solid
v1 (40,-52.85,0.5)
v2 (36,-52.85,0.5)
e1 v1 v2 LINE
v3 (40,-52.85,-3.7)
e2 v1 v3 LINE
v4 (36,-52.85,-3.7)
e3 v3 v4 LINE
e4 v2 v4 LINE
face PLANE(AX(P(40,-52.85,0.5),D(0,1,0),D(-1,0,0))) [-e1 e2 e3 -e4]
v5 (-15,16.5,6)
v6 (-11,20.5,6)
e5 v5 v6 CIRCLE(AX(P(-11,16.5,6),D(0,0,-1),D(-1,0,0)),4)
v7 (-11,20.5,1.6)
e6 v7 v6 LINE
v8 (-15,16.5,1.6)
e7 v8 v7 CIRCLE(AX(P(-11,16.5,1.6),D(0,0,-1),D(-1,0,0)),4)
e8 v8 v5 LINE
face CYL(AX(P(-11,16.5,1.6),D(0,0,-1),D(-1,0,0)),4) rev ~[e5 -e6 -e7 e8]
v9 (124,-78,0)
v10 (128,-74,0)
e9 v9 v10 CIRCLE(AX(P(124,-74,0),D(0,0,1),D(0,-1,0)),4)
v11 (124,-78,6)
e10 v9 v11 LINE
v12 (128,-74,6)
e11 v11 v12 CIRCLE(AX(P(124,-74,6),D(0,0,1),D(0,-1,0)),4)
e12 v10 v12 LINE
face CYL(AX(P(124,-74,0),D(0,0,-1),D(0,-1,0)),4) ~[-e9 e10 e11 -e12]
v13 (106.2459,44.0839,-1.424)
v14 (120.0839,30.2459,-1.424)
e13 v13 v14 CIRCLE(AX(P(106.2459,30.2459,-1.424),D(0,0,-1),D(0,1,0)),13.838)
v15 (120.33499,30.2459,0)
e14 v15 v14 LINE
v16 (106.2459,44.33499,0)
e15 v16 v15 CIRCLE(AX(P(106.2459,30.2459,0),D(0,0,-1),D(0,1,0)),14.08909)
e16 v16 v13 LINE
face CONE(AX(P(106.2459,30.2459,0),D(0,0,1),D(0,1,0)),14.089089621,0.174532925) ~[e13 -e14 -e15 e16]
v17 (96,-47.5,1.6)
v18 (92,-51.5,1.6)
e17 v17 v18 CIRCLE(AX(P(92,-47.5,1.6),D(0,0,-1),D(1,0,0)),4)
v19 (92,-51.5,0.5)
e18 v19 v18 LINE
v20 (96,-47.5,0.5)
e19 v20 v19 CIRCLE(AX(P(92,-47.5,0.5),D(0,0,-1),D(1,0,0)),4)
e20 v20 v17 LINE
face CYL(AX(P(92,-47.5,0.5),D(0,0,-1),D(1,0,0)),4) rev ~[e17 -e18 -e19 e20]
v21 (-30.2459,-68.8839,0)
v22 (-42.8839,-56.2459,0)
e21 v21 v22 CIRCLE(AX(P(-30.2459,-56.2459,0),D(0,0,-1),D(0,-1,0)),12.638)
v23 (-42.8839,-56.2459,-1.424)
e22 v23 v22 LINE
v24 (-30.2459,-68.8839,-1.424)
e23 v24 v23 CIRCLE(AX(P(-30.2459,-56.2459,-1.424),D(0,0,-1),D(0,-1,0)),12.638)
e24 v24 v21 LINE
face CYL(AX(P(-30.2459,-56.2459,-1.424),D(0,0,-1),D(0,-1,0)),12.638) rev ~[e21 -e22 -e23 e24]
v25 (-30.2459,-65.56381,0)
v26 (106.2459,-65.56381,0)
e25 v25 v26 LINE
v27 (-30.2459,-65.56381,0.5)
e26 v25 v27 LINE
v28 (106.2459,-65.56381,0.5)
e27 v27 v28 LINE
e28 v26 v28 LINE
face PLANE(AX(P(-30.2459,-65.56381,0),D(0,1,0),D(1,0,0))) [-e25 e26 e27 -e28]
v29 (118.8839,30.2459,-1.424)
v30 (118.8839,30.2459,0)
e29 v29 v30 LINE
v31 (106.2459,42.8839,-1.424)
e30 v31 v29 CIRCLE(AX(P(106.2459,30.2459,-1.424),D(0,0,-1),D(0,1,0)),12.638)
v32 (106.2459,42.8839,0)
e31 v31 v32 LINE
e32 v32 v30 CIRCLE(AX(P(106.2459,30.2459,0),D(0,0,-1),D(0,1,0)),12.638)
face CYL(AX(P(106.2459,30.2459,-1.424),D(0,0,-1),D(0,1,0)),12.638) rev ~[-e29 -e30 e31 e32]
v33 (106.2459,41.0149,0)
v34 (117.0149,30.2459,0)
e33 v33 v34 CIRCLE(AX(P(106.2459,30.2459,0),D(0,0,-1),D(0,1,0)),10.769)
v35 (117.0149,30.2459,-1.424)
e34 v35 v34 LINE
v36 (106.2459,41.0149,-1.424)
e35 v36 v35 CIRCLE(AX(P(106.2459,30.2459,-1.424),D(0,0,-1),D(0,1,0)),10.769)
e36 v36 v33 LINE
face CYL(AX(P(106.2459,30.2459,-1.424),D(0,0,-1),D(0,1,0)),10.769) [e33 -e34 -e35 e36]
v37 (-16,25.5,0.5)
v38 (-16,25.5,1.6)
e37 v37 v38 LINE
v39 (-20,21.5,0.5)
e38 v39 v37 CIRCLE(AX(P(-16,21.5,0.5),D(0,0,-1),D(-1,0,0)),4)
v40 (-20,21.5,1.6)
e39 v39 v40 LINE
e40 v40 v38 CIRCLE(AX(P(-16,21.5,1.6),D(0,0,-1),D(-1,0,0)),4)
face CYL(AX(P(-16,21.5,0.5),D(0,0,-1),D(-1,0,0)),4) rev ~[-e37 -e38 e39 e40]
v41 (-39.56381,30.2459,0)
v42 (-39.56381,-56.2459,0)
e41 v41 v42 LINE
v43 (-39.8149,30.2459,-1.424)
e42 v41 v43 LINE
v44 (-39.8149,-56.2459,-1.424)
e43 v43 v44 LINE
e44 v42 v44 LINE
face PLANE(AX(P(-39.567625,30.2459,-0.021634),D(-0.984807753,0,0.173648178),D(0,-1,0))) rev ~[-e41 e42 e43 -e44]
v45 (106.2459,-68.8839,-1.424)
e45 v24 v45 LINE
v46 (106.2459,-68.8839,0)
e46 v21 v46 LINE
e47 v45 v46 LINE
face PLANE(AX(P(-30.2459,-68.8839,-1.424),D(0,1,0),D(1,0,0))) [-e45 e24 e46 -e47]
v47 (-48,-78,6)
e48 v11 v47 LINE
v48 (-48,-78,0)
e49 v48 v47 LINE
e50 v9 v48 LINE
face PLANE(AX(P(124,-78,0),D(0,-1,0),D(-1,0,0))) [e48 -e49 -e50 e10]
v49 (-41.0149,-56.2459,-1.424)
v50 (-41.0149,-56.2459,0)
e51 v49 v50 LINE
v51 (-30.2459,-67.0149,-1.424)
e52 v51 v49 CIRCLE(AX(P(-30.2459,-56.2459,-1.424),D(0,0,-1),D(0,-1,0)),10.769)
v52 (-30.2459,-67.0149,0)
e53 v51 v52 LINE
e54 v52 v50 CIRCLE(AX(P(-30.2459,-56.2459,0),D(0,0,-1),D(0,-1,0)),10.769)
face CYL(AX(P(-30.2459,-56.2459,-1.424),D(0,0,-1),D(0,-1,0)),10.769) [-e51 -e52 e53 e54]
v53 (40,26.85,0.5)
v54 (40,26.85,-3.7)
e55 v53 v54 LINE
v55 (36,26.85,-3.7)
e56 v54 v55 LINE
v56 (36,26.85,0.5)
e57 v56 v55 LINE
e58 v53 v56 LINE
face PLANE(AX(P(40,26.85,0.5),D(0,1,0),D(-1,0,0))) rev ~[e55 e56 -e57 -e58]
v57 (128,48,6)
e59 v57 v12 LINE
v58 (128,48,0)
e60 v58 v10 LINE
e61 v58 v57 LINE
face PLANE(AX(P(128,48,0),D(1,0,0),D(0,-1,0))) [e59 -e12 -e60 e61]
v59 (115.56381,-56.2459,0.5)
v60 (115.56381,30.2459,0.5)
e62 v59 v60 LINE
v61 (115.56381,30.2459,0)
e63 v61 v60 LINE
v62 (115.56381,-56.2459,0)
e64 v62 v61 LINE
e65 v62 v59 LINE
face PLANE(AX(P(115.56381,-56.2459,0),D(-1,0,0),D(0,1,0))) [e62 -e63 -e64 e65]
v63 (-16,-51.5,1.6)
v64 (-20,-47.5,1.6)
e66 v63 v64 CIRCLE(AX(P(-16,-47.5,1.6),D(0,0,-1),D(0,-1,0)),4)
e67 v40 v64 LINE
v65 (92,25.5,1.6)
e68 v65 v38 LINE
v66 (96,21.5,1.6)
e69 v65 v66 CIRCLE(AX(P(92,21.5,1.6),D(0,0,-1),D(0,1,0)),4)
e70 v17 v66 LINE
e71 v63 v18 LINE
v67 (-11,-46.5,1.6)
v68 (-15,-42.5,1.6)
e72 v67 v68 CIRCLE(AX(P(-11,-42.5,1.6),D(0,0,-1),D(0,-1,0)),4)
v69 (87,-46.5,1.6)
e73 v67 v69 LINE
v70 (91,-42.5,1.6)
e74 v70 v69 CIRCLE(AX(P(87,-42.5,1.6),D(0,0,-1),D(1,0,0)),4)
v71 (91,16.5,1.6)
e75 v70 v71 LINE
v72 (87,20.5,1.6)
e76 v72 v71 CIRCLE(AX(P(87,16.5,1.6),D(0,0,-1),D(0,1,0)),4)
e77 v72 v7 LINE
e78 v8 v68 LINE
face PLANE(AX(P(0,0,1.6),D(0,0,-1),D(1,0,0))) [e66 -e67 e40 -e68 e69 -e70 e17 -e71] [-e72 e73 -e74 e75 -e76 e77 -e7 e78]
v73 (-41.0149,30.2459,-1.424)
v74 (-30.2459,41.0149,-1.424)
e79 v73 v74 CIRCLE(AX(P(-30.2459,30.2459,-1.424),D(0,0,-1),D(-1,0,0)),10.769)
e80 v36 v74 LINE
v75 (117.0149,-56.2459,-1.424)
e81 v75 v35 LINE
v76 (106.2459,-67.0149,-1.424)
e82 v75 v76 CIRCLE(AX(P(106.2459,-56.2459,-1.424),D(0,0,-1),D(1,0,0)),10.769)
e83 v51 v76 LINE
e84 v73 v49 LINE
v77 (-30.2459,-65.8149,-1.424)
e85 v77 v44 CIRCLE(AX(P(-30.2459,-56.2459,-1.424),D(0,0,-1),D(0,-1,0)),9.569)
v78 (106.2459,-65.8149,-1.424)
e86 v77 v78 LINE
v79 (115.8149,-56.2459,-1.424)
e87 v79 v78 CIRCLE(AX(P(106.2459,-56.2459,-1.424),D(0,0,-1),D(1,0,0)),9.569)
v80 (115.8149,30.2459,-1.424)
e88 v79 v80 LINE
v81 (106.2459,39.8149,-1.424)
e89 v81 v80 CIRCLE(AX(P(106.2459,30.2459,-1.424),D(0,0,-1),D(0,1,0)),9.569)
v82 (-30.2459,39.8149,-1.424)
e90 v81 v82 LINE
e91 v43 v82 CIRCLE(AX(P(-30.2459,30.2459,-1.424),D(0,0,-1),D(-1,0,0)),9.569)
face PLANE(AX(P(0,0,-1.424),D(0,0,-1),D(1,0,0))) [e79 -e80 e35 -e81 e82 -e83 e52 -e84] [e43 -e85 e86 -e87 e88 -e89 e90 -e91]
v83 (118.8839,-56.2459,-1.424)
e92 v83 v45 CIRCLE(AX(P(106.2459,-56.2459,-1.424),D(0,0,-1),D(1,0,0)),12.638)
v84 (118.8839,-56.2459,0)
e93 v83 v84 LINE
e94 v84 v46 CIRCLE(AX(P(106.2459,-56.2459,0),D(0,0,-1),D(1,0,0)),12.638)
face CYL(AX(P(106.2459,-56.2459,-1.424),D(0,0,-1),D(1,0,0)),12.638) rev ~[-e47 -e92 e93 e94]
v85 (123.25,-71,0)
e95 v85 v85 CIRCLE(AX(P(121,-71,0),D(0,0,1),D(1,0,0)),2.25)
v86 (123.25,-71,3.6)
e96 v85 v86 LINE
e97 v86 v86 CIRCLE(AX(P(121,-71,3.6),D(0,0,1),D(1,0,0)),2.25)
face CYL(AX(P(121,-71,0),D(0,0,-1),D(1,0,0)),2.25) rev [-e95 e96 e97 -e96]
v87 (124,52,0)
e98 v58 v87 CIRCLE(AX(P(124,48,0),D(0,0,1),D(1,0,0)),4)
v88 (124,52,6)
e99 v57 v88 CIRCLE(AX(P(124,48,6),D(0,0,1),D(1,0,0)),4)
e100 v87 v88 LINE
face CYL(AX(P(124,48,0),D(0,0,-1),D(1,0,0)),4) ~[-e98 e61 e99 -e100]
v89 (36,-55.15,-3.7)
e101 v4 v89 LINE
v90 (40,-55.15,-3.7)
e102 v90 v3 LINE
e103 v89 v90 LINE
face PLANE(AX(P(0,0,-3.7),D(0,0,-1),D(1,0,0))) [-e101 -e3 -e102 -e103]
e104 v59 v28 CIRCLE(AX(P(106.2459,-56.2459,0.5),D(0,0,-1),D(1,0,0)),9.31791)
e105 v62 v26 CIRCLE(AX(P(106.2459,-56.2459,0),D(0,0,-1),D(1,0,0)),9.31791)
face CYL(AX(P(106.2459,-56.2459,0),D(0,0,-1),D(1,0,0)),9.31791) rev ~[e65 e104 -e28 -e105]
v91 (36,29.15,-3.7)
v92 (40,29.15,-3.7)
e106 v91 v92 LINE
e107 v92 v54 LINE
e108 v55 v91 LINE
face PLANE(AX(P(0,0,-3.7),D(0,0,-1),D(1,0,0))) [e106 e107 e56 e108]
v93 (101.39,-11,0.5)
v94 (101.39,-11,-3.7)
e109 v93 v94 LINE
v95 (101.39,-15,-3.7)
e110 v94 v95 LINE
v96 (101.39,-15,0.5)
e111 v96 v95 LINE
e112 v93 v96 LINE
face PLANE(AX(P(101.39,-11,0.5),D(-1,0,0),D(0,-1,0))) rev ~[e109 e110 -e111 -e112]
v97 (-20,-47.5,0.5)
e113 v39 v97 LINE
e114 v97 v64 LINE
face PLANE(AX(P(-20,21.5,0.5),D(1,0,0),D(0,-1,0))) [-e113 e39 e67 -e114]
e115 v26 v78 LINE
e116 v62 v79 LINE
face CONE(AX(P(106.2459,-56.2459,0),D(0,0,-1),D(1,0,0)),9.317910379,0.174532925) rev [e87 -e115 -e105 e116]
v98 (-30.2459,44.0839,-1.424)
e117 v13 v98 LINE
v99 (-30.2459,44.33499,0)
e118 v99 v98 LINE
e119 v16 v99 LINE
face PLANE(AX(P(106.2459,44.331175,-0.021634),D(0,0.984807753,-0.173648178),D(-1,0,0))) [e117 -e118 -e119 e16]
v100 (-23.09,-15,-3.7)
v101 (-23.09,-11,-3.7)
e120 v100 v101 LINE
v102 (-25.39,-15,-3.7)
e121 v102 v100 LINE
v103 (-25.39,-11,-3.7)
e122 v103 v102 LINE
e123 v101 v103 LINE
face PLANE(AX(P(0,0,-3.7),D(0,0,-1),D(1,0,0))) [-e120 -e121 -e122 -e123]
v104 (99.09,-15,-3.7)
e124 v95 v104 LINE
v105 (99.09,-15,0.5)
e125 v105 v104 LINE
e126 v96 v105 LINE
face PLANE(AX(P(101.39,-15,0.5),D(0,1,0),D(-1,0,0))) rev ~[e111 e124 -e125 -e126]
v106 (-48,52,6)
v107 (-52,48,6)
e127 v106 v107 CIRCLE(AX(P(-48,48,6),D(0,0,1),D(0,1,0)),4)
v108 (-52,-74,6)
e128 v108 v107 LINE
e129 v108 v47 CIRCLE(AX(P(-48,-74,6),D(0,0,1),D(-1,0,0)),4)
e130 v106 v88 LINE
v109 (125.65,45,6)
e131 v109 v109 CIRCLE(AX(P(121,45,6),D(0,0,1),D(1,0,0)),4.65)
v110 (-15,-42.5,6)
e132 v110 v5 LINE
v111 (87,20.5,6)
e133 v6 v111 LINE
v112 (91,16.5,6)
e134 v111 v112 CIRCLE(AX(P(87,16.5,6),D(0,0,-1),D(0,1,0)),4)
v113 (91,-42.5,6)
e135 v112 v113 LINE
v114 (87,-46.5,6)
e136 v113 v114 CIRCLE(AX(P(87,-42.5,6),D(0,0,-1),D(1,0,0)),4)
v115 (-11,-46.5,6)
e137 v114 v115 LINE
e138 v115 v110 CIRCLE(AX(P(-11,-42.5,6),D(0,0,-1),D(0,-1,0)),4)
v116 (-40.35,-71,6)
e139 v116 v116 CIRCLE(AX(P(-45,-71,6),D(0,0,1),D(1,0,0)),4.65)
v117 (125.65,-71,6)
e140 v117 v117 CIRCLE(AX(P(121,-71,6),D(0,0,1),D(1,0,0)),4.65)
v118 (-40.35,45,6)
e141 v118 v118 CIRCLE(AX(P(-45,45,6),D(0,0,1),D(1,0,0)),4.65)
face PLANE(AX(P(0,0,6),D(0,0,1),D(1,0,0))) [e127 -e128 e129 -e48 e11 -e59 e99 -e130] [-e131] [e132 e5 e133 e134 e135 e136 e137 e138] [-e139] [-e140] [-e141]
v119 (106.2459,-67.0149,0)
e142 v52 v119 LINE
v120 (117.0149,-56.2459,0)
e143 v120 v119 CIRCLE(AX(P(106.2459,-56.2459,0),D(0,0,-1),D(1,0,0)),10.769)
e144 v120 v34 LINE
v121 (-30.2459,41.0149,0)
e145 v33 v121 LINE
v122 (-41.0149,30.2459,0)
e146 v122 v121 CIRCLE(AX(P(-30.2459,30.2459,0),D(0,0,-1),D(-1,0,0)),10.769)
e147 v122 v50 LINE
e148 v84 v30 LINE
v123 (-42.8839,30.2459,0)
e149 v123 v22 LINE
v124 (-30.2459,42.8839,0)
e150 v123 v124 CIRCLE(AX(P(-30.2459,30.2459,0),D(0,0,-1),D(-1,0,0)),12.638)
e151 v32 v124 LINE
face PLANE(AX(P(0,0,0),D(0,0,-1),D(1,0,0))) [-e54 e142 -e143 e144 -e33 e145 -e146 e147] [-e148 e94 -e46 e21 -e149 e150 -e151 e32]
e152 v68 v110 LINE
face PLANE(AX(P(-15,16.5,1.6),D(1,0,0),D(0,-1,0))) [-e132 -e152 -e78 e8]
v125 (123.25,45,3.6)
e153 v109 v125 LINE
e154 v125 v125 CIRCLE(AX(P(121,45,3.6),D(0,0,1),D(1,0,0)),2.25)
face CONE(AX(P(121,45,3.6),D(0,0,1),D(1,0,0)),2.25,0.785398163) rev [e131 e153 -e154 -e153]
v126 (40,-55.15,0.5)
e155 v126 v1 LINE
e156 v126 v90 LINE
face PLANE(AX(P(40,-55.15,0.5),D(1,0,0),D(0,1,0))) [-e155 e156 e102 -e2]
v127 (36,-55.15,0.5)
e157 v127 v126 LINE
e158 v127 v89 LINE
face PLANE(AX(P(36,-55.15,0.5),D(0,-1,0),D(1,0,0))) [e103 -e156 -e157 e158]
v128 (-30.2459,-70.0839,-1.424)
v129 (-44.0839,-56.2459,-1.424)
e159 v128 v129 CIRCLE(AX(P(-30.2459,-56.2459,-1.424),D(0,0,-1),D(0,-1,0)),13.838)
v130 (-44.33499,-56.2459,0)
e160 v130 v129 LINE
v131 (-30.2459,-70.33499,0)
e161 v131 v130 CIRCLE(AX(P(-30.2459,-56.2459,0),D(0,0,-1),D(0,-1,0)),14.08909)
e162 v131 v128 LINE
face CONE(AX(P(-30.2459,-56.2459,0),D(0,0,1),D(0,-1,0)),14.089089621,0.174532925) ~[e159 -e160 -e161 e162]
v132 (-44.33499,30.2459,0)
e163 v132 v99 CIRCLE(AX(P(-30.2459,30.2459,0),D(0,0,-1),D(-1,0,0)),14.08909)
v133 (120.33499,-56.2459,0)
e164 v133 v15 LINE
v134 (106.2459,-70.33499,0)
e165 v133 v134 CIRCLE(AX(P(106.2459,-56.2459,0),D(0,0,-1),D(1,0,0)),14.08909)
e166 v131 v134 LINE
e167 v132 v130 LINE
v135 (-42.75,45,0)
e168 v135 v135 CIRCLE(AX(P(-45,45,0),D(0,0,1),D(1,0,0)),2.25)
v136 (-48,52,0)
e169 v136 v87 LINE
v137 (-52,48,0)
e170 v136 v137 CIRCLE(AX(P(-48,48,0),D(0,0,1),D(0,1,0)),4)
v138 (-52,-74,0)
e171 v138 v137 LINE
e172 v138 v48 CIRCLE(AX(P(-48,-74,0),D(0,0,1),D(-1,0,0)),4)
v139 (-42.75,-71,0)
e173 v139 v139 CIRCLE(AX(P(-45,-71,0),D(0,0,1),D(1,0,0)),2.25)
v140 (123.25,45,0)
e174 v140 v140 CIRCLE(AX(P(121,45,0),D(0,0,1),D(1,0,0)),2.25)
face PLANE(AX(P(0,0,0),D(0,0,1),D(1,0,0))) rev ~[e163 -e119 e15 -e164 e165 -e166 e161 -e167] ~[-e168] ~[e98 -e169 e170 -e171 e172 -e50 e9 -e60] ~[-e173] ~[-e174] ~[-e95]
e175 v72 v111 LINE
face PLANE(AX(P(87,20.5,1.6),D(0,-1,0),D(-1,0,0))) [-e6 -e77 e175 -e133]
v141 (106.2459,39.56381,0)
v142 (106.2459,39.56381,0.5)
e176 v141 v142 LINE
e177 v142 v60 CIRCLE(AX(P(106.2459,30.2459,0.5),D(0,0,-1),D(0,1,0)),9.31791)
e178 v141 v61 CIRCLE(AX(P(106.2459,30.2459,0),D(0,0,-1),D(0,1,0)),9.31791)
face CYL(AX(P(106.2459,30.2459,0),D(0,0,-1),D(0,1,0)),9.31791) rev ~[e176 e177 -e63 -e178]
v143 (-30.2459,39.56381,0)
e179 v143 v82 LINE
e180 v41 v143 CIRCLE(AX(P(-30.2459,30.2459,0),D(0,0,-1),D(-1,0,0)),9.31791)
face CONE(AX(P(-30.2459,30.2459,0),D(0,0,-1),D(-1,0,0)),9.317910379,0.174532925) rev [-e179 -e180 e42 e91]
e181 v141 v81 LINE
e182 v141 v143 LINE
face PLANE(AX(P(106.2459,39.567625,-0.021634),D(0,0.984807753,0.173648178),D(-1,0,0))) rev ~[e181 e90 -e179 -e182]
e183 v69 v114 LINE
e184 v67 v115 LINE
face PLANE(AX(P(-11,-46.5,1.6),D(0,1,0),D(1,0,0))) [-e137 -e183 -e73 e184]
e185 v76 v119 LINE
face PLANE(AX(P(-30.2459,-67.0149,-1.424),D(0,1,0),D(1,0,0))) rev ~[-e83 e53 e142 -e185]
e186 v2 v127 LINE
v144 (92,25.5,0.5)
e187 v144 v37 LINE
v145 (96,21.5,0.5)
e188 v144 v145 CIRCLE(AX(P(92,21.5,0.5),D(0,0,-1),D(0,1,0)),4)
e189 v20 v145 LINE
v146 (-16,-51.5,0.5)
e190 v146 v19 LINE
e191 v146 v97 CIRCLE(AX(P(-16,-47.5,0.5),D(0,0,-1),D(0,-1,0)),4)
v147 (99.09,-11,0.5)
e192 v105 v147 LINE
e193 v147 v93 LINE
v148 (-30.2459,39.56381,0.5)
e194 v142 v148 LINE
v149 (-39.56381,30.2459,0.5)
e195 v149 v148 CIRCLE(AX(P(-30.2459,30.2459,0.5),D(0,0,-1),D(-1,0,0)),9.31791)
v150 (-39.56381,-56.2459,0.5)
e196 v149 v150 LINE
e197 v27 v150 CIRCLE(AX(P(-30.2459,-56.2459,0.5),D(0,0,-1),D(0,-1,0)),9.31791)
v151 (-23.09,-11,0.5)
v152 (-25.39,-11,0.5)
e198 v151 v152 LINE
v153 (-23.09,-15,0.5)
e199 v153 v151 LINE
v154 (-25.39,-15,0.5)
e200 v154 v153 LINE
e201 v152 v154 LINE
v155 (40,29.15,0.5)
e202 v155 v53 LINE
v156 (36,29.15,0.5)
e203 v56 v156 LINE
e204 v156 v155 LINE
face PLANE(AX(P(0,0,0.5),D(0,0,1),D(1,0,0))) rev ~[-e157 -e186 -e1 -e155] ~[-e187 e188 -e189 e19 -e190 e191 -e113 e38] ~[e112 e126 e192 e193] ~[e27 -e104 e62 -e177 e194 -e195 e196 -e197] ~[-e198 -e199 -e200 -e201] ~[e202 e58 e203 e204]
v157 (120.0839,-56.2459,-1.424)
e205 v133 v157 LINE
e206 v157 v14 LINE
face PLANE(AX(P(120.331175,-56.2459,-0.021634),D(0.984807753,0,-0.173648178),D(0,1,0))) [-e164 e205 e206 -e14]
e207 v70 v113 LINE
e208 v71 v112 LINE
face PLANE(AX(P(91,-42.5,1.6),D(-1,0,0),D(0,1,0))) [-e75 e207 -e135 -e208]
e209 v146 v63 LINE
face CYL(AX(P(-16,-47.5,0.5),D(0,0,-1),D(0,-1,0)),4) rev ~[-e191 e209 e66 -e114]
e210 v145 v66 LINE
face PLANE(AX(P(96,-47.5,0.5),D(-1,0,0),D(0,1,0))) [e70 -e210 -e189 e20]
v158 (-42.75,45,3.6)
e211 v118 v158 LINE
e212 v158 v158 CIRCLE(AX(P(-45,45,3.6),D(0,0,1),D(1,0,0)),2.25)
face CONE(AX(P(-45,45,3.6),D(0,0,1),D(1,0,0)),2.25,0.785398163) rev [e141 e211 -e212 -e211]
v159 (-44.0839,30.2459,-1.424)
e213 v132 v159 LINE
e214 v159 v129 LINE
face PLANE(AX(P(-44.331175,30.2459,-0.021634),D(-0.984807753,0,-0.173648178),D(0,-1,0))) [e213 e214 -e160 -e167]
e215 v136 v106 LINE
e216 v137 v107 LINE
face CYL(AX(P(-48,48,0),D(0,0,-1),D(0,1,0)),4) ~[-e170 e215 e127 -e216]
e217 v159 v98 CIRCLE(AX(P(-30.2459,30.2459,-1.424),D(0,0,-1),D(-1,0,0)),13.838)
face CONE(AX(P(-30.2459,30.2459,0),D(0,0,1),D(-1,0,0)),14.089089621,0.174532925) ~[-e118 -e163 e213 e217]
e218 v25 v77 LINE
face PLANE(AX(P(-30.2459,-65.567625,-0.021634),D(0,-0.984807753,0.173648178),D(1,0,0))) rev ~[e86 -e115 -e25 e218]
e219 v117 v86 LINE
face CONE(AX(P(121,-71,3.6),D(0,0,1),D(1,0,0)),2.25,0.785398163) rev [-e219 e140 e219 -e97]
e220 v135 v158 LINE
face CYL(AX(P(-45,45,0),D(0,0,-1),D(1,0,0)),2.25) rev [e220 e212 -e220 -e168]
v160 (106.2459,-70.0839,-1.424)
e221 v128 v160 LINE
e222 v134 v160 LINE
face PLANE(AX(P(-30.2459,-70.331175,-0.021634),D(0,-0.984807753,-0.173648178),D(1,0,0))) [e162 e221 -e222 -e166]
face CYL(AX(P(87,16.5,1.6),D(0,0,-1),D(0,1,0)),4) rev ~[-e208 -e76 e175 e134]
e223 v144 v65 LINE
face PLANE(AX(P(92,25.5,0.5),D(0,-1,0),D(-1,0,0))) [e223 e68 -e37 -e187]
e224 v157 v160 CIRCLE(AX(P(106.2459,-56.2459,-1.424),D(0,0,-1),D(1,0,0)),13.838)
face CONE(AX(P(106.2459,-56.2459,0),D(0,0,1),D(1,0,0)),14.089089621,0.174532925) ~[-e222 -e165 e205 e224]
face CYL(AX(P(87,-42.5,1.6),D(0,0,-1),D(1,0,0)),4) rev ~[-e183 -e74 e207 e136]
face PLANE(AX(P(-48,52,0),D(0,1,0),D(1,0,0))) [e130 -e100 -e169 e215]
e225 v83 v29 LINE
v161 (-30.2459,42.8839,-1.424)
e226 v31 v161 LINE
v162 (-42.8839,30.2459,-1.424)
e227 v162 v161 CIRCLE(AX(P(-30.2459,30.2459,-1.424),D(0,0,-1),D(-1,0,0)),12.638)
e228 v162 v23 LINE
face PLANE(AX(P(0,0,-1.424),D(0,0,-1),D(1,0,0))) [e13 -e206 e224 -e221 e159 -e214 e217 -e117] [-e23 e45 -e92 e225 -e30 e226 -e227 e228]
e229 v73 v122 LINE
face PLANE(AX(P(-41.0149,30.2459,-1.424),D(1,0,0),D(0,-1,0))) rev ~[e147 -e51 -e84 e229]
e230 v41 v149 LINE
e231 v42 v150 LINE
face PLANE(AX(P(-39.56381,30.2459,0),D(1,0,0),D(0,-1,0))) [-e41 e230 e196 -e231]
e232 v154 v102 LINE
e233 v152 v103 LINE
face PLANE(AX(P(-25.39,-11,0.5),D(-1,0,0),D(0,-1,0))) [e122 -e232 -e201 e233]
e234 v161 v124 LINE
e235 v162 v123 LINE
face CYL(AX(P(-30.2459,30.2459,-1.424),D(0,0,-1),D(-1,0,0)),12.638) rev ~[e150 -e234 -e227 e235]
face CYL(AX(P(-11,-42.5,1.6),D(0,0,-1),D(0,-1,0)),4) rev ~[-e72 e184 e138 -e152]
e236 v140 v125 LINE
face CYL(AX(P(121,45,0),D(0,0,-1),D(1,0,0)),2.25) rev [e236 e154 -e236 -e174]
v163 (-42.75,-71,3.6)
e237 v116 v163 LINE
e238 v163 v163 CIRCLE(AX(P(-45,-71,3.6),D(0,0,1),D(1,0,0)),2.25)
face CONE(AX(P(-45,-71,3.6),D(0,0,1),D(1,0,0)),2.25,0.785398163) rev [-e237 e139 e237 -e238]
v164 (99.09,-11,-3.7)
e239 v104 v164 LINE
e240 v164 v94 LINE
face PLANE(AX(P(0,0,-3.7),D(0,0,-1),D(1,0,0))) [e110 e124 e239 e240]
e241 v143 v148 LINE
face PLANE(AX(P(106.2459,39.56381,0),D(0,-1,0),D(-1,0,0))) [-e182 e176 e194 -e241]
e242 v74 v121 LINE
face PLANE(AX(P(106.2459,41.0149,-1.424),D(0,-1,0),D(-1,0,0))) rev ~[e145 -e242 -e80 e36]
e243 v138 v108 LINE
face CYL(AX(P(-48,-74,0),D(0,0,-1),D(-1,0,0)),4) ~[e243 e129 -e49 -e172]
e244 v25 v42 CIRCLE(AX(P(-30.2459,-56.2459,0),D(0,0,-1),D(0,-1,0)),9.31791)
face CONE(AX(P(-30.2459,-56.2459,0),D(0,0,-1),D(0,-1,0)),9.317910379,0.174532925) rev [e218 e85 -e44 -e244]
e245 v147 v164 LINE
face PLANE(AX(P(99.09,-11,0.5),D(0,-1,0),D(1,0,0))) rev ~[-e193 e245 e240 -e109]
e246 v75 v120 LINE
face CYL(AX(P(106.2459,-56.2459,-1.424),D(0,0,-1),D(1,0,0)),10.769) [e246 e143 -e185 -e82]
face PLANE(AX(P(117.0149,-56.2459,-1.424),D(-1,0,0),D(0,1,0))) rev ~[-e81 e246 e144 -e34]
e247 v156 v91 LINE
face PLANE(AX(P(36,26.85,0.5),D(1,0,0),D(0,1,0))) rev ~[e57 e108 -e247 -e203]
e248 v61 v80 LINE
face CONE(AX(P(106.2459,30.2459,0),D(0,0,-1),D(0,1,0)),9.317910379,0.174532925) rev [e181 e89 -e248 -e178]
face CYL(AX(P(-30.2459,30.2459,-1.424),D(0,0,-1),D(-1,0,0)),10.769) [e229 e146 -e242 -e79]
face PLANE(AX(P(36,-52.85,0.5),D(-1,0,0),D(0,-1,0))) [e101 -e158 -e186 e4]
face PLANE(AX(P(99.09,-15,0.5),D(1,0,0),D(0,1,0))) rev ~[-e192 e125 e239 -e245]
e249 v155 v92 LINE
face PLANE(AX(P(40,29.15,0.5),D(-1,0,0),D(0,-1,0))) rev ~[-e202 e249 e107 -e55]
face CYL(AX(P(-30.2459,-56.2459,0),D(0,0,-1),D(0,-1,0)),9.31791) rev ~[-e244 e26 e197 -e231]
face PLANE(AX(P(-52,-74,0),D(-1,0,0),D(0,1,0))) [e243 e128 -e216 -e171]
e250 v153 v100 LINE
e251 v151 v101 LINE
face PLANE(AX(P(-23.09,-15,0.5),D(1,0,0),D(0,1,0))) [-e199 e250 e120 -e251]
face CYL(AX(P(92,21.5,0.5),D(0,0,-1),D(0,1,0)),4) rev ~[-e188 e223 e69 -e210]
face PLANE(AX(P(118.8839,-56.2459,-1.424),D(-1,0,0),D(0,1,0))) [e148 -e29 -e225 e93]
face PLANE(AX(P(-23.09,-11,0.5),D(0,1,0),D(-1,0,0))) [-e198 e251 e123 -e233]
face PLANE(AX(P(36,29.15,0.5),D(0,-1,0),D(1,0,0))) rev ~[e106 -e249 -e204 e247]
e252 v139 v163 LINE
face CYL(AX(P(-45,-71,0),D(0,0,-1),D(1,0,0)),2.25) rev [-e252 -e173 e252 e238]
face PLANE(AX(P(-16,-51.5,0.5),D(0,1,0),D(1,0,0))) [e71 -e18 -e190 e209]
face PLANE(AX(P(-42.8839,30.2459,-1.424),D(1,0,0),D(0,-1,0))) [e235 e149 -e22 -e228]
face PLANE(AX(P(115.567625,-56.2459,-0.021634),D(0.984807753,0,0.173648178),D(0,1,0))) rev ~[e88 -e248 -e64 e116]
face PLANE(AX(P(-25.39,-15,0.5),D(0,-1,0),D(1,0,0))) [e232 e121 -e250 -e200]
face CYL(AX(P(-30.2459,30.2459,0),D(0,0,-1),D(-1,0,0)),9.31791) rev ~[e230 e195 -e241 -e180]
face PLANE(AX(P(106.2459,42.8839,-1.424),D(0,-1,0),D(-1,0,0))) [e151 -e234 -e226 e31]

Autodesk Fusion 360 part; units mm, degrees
sketch "Sketch2" plane through (0, 0, 0) normal (0, 0, 1) x (1, 0, 0)
  line L0 (-48, 52) -> (124, 52)
  line L1 (128, 48) -> (128, -74)
  line L2 (124, -78) -> (-48, -78)
  line L3 (-52, -74) -> (-52, 48)
  circle A0 centre (-45, 45) radius 2.25
  line L4 (38, -78) -> (38, 52) construction
  line L5 (-52, -13) -> (128, -13) construction
  arc A1 (-48, 52) -> (-52, 48) centre (-48, 48) ccw
  circle A2 centre (121, 45) radius 2.25
  arc A3 (128, 48) -> (124, 52) centre (124, 48) ccw
  circle A4 centre (121, -71) radius 2.25
  arc A5 (124, -78) -> (128, -74) centre (124, -74) ccw
  circle A6 centre (-45, -71) radius 2.25
  arc A7 (-52, -74) -> (-48, -78) centre (-48, -74) ccw
  point P0 (-52, 52)
  point P1 (128, 52)
  dimension "d3" = 4.5
  dimension "d4" = 7
  dimension "d5" = 7
  dimension "d6" = 4
  dimension "d63" = 180
  dimension "d64" = 130
extrude "Extrude1" add sketch "Sketch2" along normal blind 6
sketch "Sketch3" plane through (0, 0, 0) normal (0, 0, -1) x (1, 0, 0)
  circle A0 centre (121, 71) radius 2.25
  circle A1 centre (-45, 71) radius 2.25
  circle A2 centre (-45, -45) radius 2.25
  circle A3 centre (121, -45) radius 2.25
  arc A4 (-52, -48) -> (-48, -52) centre (-48, -48) ccw
  line L0 (-48, -52) -> (124, -52)
  arc A5 (124, -52) -> (128, -48) centre (124, -48) ccw
  line L1 (128, -48) -> (128, 74)
  arc A6 (128, 74) -> (124, 78) centre (124, 74) ccw
  line L2 (124, 78) -> (-48, 78)
  arc A7 (-48, 78) -> (-52, 74) centre (-48, 74) ccw
  line L3 (-52, 74) -> (-52, -48)
  line L4 (38, 78) -> (38, -52) construction
  line L5 (128, 13) -> (-52, 13) construction
  line L6 (117.9494, -41.9494) -> (-41.9494, -41.9494) construction
  line L7 (-41.9494, -41.9494) -> (-41.9494, 67.9494) construction
  line L8 (-41.9494, 67.9494) -> (117.9494, 67.9494) construction
  line L9 (117.9494, 67.9494) -> (117.9494, -41.9494) construction
  line L10 (117.9494, -41.9494) -> (-41.9494, 67.9494) construction
  line L11 (-41.9494, -41.9494) -> (117.9494, 67.9494) construction
  line L12 (106.2459, -44.0839) -> (-30.2459, -44.0839)
  line L13 (-44.0839, -30.2459) -> (-44.0839, 56.2459)
  line L14 (-30.2459, 70.0839) -> (106.2459, 70.0839)
  line L15 (120.0839, 56.2459) -> (120.0839, -30.2459)
  line L16 (93.976, -25.9276) -> (-44.0839, 70.0839) construction
  line L17 (-38.2879, -33.8258) -> (83.9414, 41.199) construction
  line L18 (-39.8149, -30.2459) -> (-39.8149, 56.2459)
  line L19 (-30.2459, 65.8149) -> (106.2459, 65.8149)
  line L20 (115.8149, 56.2459) -> (115.8149, -30.2459)
  line L21 (103.0391, -31.1436) -> (-39.8149, 65.8149) construction
  line L22 (-35.6113, -30.989) -> (81.1607, 38.7921) construction
  arc A8 (-30.2459, 65.8149) -> (-39.8149, 56.2459) centre (-30.2459, 56.2459) ccw
  arc A9 (-30.2459, 70.0839) -> (-44.0839, 56.2459) centre (-30.2459, 56.2459) ccw
  arc A10 (115.8149, 56.2459) -> (106.2459, 65.8149) centre (106.2459, 56.2459) ccw
  arc A11 (120.0839, 56.2459) -> (106.2459, 70.0839) centre (106.2459, 56.2459) ccw
  arc A12 (-39.8149, -30.2459) -> (-30.2459, -39.8149) centre (-30.2459, -30.2459) ccw
  arc A13 (-44.0839, -30.2459) -> (-30.2459, -44.0839) centre (-30.2459, -30.2459) ccw
  arc A14 (106.2459, -39.8149) -> (115.8149, -30.2459) centre (106.2459, -30.2459) ccw
  arc A15 (106.2459, -44.0839) -> (120.0839, -30.2459) centre (106.2459, -30.2459) ccw
  line L23 (106.2459, -39.8149) -> (-30.2459, -39.8149)
  point P0 (38, 13)
  point P1 (38, 13)
  point P2 (38, 13)
  point P3 (38, 13)
  point P4 (38, 13)
  dimension "d25" = 159.8988
  dimension "d27" = 109.8988
  dimension "d28" = 2.1345
  dimension "d29" = 2.1345
  dimension "d30" = 2.1345
  dimension "d31" = 2.1345
  dimension "d44" = 9.569
  dimension "d45" = 13.838
extrude "Extrude4" add sketch "Sketch3" along normal blind 1.424 contours L12 L13 L14 L15 A9 A11 A13 A15
draft "Draft3" angle 10 neutral plane through (0, 0, -1.424) pull (0, 0, -1) 16 faces at (60.7486, -65.8149, -0.9493) (109.3756, -65.2886, -0.9493) (115.8149, -27.4153, -0.4747) (108.5019, 39.5452, -0.9493) (60.7486, 39.8149, -0.4747) (-38.5329, 35.0304, -0.9493) (-39.8149, -27.4153, -0.4747) (-32.5019, -65.5452, -0.9493) (-44.0839, 1.4153, -0.4747) (-35.389, 43.0927, -0.9493) (15.2514, 44.0839, -0.9493) (116.2609, 39.7952, -0.9493) (120.0839, 1.4153, -0.9493) (108.8648, -69.8338, -0.9493) (60.7486, -70.0839, -0.9493) (-44.0213, -57.5613, -0.4747)
sketch "Sketch5" plane through (0, 0, -1.424) normal (0, 0, -1) x (1, 0, 0)
  line L0 (-30.2459, 65.8149) -> (106.2459, 65.8149)
  line L1 (115.8149, 56.2459) -> (115.8149, -30.2459)
  line L2 (106.2459, -39.8149) -> (-30.2459, -39.8149)
  line L3 (-39.8149, -30.2459) -> (-39.8149, 56.2459)
  line L4 (106.2459, 70.0839) -> (-30.2459, 70.0839)
  line L5 (-44.0839, 56.2459) -> (-44.0839, -30.2459)
  line L6 (-30.2459, -44.0839) -> (106.2459, -44.0839)
  line L7 (120.0839, -30.2459) -> (120.0839, 56.2459)
  line L8 (38, 70.0839) -> (38, -44.0839) construction
  line L9 (120.0839, 13) -> (-44.0839, 13) construction
  line L10 (117.9494, -41.9494) -> (-41.9494, -41.9494) construction
  line L11 (-41.9494, -41.9494) -> (-41.9494, 67.9494) construction
  line L12 (-41.9494, 67.9494) -> (117.9494, 67.9494) construction
  line L13 (117.9494, 67.9494) -> (117.9494, -41.9494) construction
  line L14 (117.9494, -41.9494) -> (-41.9494, 67.9494) construction
  line L15 (-41.9494, -41.9494) -> (117.9494, 67.9494) construction
  line L16 (106.2459, -42.8839) -> (-30.2459, -42.8839)
  line L17 (-42.8839, -30.2459) -> (-42.8839, 56.2459)
  line L18 (-30.2459, 68.8839) -> (106.2459, 68.8839)
  line L19 (118.8839, 56.2459) -> (118.8839, -30.2459)
  line L20 (96.0985, -27.1411) -> (-42.8839, 68.8839) construction
  line L21 (-42.8839, -42.8839) -> (96.0985, 53.1411) construction
  line L22 (106.2459, -41.0149) -> (-30.2459, -41.0149)
  line L23 (-41.0149, -30.2459) -> (-41.0149, 56.2459)
  line L24 (117.0149, 56.2459) -> (117.0149, -30.2459)
  line L25 (95.1479, -26.0666) -> (-41.0149, 67.0149) construction
  line L26 (-41.0149, -41.0149) -> (95.1479, 52.0666) construction
  arc A0 (115.8149, 56.2459) -> (106.2459, 65.8149) centre (106.2459, 56.2459) ccw
  arc A1 (106.2459, -39.8149) -> (115.8149, -30.2459) centre (106.2459, -30.2459) ccw
  arc A2 (-39.8149, -30.2459) -> (-30.2459, -39.8149) centre (-30.2459, -30.2459) ccw
  arc A3 (-30.2459, 65.8149) -> (-39.8149, 56.2459) centre (-30.2459, 56.2459) ccw
  arc A4 (-44.0839, -30.2459) -> (-30.2459, -44.0839) centre (-30.2459, -30.2459) ccw
  arc A5 (106.2459, -44.0839) -> (120.0839, -30.2459) centre (106.2459, -30.2459) ccw
  arc A6 (120.0839, 56.2459) -> (106.2459, 70.0839) centre (106.2459, 56.2459) ccw
  arc A7 (-30.2459, 70.0839) -> (-44.0839, 56.2459) centre (-30.2459, 56.2459) ccw
  arc A8 (-30.2459, 67.0149) -> (-41.0149, 56.2459) centre (-30.2459, 56.2459) ccw
  arc A9 (-30.2459, 68.8839) -> (-42.8839, 56.2459) centre (-30.2459, 56.2459) ccw
  arc A10 (117.0149, 56.2459) -> (106.2459, 67.0149) centre (106.2459, 56.2459) ccw
  arc A11 (118.8839, 56.2459) -> (106.2459, 68.8839) centre (106.2459, 56.2459) ccw
  line L27 (-30.2459, 67.0149) -> (106.2459, 67.0149)
  arc A12 (106.2459, -41.0149) -> (117.0149, -30.2459) centre (106.2459, -30.2459) ccw
  arc A13 (106.2459, -42.8839) -> (118.8839, -30.2459) centre (106.2459, -30.2459) ccw
  arc A14 (-41.0149, -30.2459) -> (-30.2459, -41.0149) centre (-30.2459, -30.2459) ccw
  arc A15 (-42.8839, -30.2459) -> (-30.2459, -42.8839) centre (-30.2459, -30.2459) ccw
  point P0 (38, 13)
  point P1 (38, 13)
  point P2 (38, 13)
  dimension "d36" = 159.8988
  dimension "d37" = 109.8988
  dimension "d38" = 0.9345
  dimension "d39" = 0.9345
  dimension "d40" = 0.9345
  dimension "d41" = 0.9345
  dimension "d50" = 10.769
  dimension "d51" = 12.638
extrude "Extrude6" cut sketch "Sketch5" against normal blind 1.424 contours L16 L17 L18 L19 A9 A11 A13 A15
extrude "Extrude7" cut 1 faces at (15.2514, -30.5213, 0) along direction (0, 0, 1) blind 0.5
sketch "Sketch6" plane through (0, 0, 0.5) normal (0, 0, -1) x (1, 0, 0)
  line L0 (106.2459, 65.5638) -> (-30.2459, 65.5638)
  arc A0 (-30.2459, 65.5638) -> (-39.5638, 56.2459) centre (-30.2459, 56.2459) ccw
  line L1 (-39.5638, 56.2459) -> (-39.5638, -30.2459)
  arc A1 (-39.5638, -30.2459) -> (-30.2459, -39.5638) centre (-30.2459, -30.2459) ccw
  line L2 (-30.2459, -39.5638) -> (106.2459, -39.5638)
  arc A2 (106.2459, -39.5638) -> (115.5638, -30.2459) centre (106.2459, -30.2459) ccw
  line L3 (115.5638, -30.2459) -> (115.5638, 56.2459)
  arc A3 (115.5638, 56.2459) -> (106.2459, 65.5638) centre (106.2459, 56.2459) ccw
  line L4 (38, 65.5638) -> (38, -39.5638) construction
  line L5 (-39.5638, 13) -> (115.5638, 13) construction
  line L6 (92, -25.5) -> (-16, -25.5)
  line L7 (-20, -21.5) -> (-20, 47.5)
  line L8 (-16, 51.5) -> (92, 51.5)
  line L9 (96, 47.5) -> (96, -21.5)
  line L10 (96, -25.5) -> (-20, 51.5) construction
  line L11 (-20, -25.5) -> (96, 51.5) construction
  arc A4 (-16, 51.5) -> (-20, 47.5) centre (-16, 47.5) ccw
  arc A5 (96, 47.5) -> (92, 51.5) centre (92, 47.5) ccw
  arc A6 (92, -25.5) -> (96, -21.5) centre (92, -21.5) ccw
  arc A7 (-20, -21.5) -> (-16, -25.5) centre (-16, -21.5) ccw
  point P0 (38, 13)
  dimension "d58" = 116
  dimension "d59" = 77
  dimension "d68" = 4
  dimension "d69" = 4
  dimension "d70" = 4
  dimension "d71" = 4
extrude "Extrude8" cut sketch "Sketch6" against normal blind 1.1 contours L6 L7 L8 L9 A4 A5 A6 A7
sketch "Sketch7" plane through (0, 0, 1.6) normal (0, 0, -1) x (1, 0, 0)
  line L0 (92, 51.5) -> (-16, 51.5)
  line L1 (-20, 47.5) -> (-20, -21.5)
  line L2 (-16, -25.5) -> (92, -25.5)
  line L3 (96, -21.5) -> (96, 47.5)
  line L4 (38, 51.5) -> (38, -25.5) construction
  line L5 (96, 13) -> (-20, 13) construction
  line L6 (87, -20.5) -> (-11, -20.5)
  line L7 (-15, -16.5) -> (-15, 42.5)
  line L8 (-11, 46.5) -> (87, 46.5)
  line L9 (91, 42.5) -> (91, -16.5)
  line L10 (91, -20.5) -> (-15, 46.5) construction
  line L11 (-15, -20.5) -> (91, 46.5) construction
  arc A0 (-16, 51.5) -> (-20, 47.5) centre (-16, 47.5) ccw
  arc A1 (-20, -21.5) -> (-16, -25.5) centre (-16, -21.5) ccw
  arc A2 (92, -25.5) -> (96, -21.5) centre (92, -21.5) ccw
  arc A3 (96, 47.5) -> (92, 51.5) centre (92, 47.5) ccw
  arc A4 (-11, 46.5) -> (-15, 42.5) centre (-11, 42.5) ccw
  arc A5 (91, 42.5) -> (87, 46.5) centre (87, 42.5) ccw
  arc A6 (87, -20.5) -> (91, -16.5) centre (87, -16.5) ccw
  arc A7 (-15, -16.5) -> (-11, -20.5) centre (-11, -16.5) ccw
  point P0 (38, 13)
  dimension "d62" = 106
  dimension "d65" = 67
  dimension "d72" = 4
  dimension "d73" = 4
  dimension "d74" = 4
  dimension "d75" = 4
extrude "Extrude9" cut sketch "Sketch7" against normal blind 8.4 contours L6 L7 L8 L9 A4 A5 A6 A7
sketch "Sketch9" plane through (0, 0, 6) normal (0, 0, 1) x (-1, 0, 0)
  line L0 (15, 42.5) -> (15, -16.5)
  arc A0 (11, -20.5) -> (15, -16.5) centre (11, -16.5) ccw
  line L1 (11, -20.5) -> (-87, -20.5)
  arc A1 (-91, -16.5) -> (-87, -20.5) centre (-87, -16.5) ccw
  line L2 (-91, -16.5) -> (-91, 42.5)
  arc A2 (-87, 46.5) -> (-91, 42.5) centre (-87, 42.5) ccw
  line L3 (-87, 46.5) -> (11, 46.5)
  arc A3 (15, 42.5) -> (11, 46.5) centre (11, 42.5) ccw
  circle A4 centre (-121, 71) radius 2.25
  circle A5 centre (-121, -45) radius 2.25
  circle A6 centre (45, 71) radius 2.25
  circle A7 centre (45, -45) radius 2.25
  arc A8 (48, -52) -> (52, -48) centre (48, -48) ccw
  line L4 (52, -48) -> (52, 74)
  arc A9 (52, 74) -> (48, 78) centre (48, 74) ccw
  line L5 (48, 78) -> (-124, 78)
  arc A10 (-124, 78) -> (-128, 74) centre (-124, 74) ccw
  line L6 (-128, 74) -> (-128, -48)
  arc A11 (-128, -48) -> (-124, -52) centre (-124, -48) ccw
  line L7 (-124, -52) -> (48, -52)
  line L8 (45, -47.25) -> (45, -42.75) construction
  line L9 (42.75, -45) -> (47.25, -45) construction
  circle A12 centre (45, -45) radius 4
  line L10 (-38, -52) -> (-38, 78) construction
  line L11 (-128, 13) -> (52, 13) construction
  circle A13 centre (-121, -45) radius 4
  circle A14 centre (45, 71) radius 4
  circle A15 centre (-121, 71) radius 4
  dimension "d91" = 8
sketch "Sketch10" plane through (0, 0, 0.5) normal (0, 0, -1) x (1, 0, 0)
  line L0 (-20, -21.5) -> (-20, 47.5)
  arc A0 (-16, 51.5) -> (-20, 47.5) centre (-16, 47.5) ccw
  line L1 (-16, 51.5) -> (92, 51.5)
  arc A1 (96, 47.5) -> (92, 51.5) centre (92, 47.5) ccw
  line L2 (96, 47.5) -> (96, -21.5)
  arc A2 (92, -25.5) -> (96, -21.5) centre (92, -21.5) ccw
  line L3 (92, -25.5) -> (-16, -25.5)
  arc A3 (-20, -21.5) -> (-16, -25.5) centre (-16, -21.5) ccw
  line L4 (106.2459, 65.5638) -> (-30.2459, 65.5638)
  arc A4 (-30.2459, 65.5638) -> (-39.5638, 56.2459) centre (-30.2459, 56.2459) ccw
  line L5 (-39.5638, 56.2459) -> (-39.5638, -30.2459)
  arc A5 (-39.5638, -30.2459) -> (-30.2459, -39.5638) centre (-30.2459, -30.2459) ccw
  line L6 (-30.2459, -39.5638) -> (106.2459, -39.5638)
  arc A6 (106.2459, -39.5638) -> (115.5638, -30.2459) centre (106.2459, -30.2459) ccw
  line L7 (115.5638, -30.2459) -> (115.5638, 56.2459)
  arc A7 (115.5638, 56.2459) -> (106.2459, 65.5638) centre (106.2459, 56.2459) ccw
  line L8 (38, 65.5638) -> (38, -39.5638) construction
  line L9 (115.5638, 13) -> (-39.5638, 13) construction
  line L10 (38, 13) -> (-24.24, 13) construction
  line L11 (-23.09, 11) -> (-25.39, 11)
  line L12 (-25.39, 11) -> (-25.39, 15)
  line L13 (-25.39, 15) -> (-23.09, 15)
  line L14 (-23.09, 15) -> (-23.09, 11)
  line L15 (-23.09, 11) -> (-25.39, 15) construction
  line L16 (-25.39, 11) -> (-23.09, 15) construction
  line L17 (38, 13) -> (38, 54) construction
  line L18 (40, 52.85) -> (36, 52.85)
  line L19 (36, 52.85) -> (36, 55.15)
  line L20 (36, 55.15) -> (40, 55.15)
  line L21 (40, 55.15) -> (40, 52.85)
  line L22 (40, 52.85) -> (36, 55.15) construction
  line L23 (36, 52.85) -> (40, 55.15) construction
  line L24 (99.09, 15) -> (99.09, 11)
  line L25 (101.39, 15) -> (99.09, 15)
  line L26 (101.39, 11) -> (101.39, 15)
  line L27 (99.09, 11) -> (101.39, 11)
  line L28 (40, -26.85) -> (36, -26.85)
  line L29 (40, -29.15) -> (40, -26.85)
  line L30 (36, -29.15) -> (40, -29.15)
  line L31 (36, -26.85) -> (36, -29.15)
  point P0 (-24.24, 13)
  point P1 (38, 54)
  dimension "d97" = 62.24
  dimension "d98" = 2.3
  dimension "d99" = 4
  dimension "d100" = 41
  dimension "d101" = 2.3
  dimension "d102" = 4
extrude "Extrude12" add sketch "Sketch10" along normal blind 4.2 contours L11 L12 L13 L14 | L18 L19 L20 L21 | L24 L25 L26 L27 | L28 L29 L30 L31
chamfer "Chamfer2" distance 2.4 angle 45 4 edges at (-47.0977, 45.8136, 6) (118.9023, 45.8136, 6) (118.9023, -70.1864, 6) (-47.0977, -70.1864, 6) measured on face at (111.574, -3.1667, 6) measured on face at (111.574, -3.1667, 6) measured on face at (111.574, -3.1667, 6) measured on face at (111.574, -3.1667, 6)
equation "d3 = Bolt_Diam + 0.5 mm"
equation "ORingDiameter = 1.78 mm" comment "Diamter of the O ring"
equation "ORingInnerDiameter = 170 mm" comment "Inner diamter of the o ring bore"
equation "d25 = ( ORingPerimeter - 100 mm ) / 4 + 50 mm"
equation "ORingPerimeter = 2 * 3.1412 * ( ( ORingInnerDiameter / 2 ) + ORingDiameter / 2 )"
equation "d27 = ( ORingPerimeter - 100 mm ) / 4"
equation "d28 = ( ( ORingDiameter * 1.05 ) / 2 ) + 1.2 mm"
equation "d29 = ( ( ORingDiameter * 1.05 ) / 2 ) + 1.2 mm"
equation "d30 = ( ( ORingDiameter * 1.05 ) / 2 ) + 1.2 mm"
equation "d31 = ( ( ORingDiameter * 1.05 ) / 2 ) + 1.2 mm"
equation "d32 = ORingDiameter * 0.8"
equation "d36 = ( ORingPerimeter - 100 mm ) / 4 + 50 mm"
equation "d37 = ( ORingPerimeter - 100 mm ) / 4"
equation "d38 = ( ORingDiameter * 1.05 ) / 2"
equation "d39 = ( ORingDiameter * 1.05 ) / 2"
equation "d40 = ( ORingDiameter * 1.05 ) / 2"
equation "d41 = ( ORingDiameter * 1.05 ) / 2"
equation "d44 = ( ORingDiameter ) * 6 + ORingDiameter * 0.05 - 1.2 mm"
equation "d45 = ( ORingDiameter ) * 6 + ( ORingDiameter * 1.1 ) + 1.2 mm"
equation "d50 = ( ORingDiameter ) * 6 + ORingDiameter * 0.05 - 0.0 mm"
equation "d51 = ( ORingDiameter ) * 6 + ORingDiameter * 1.1 + 0 mm"
equation "d52 = -( ORingDiameter * 0.8 )"
equation "PanelWidth = 77 mm"
equation "PanelLength = 116 mm"
equation "d58 = PanelLength"
equation "d59 = PanelWidth"
equation "d62 = PanelLength - 10 mm"
equation "d65 = PanelWidth - 10 mm"
equation "d91 = Bolt_Head_Diam"
equation "Bolt_Diam = 4 mm" comment "Diameter of the bolt"
equation "Bolt_Head_Height = 2.3 mm" comment "Height of th ebolt head"
equation "Bolt_Head_Diam = 8 mm" comment "Diamter of the bolt head"
equation "d106 = Bolt_Head_Height + 0.1 mm"
